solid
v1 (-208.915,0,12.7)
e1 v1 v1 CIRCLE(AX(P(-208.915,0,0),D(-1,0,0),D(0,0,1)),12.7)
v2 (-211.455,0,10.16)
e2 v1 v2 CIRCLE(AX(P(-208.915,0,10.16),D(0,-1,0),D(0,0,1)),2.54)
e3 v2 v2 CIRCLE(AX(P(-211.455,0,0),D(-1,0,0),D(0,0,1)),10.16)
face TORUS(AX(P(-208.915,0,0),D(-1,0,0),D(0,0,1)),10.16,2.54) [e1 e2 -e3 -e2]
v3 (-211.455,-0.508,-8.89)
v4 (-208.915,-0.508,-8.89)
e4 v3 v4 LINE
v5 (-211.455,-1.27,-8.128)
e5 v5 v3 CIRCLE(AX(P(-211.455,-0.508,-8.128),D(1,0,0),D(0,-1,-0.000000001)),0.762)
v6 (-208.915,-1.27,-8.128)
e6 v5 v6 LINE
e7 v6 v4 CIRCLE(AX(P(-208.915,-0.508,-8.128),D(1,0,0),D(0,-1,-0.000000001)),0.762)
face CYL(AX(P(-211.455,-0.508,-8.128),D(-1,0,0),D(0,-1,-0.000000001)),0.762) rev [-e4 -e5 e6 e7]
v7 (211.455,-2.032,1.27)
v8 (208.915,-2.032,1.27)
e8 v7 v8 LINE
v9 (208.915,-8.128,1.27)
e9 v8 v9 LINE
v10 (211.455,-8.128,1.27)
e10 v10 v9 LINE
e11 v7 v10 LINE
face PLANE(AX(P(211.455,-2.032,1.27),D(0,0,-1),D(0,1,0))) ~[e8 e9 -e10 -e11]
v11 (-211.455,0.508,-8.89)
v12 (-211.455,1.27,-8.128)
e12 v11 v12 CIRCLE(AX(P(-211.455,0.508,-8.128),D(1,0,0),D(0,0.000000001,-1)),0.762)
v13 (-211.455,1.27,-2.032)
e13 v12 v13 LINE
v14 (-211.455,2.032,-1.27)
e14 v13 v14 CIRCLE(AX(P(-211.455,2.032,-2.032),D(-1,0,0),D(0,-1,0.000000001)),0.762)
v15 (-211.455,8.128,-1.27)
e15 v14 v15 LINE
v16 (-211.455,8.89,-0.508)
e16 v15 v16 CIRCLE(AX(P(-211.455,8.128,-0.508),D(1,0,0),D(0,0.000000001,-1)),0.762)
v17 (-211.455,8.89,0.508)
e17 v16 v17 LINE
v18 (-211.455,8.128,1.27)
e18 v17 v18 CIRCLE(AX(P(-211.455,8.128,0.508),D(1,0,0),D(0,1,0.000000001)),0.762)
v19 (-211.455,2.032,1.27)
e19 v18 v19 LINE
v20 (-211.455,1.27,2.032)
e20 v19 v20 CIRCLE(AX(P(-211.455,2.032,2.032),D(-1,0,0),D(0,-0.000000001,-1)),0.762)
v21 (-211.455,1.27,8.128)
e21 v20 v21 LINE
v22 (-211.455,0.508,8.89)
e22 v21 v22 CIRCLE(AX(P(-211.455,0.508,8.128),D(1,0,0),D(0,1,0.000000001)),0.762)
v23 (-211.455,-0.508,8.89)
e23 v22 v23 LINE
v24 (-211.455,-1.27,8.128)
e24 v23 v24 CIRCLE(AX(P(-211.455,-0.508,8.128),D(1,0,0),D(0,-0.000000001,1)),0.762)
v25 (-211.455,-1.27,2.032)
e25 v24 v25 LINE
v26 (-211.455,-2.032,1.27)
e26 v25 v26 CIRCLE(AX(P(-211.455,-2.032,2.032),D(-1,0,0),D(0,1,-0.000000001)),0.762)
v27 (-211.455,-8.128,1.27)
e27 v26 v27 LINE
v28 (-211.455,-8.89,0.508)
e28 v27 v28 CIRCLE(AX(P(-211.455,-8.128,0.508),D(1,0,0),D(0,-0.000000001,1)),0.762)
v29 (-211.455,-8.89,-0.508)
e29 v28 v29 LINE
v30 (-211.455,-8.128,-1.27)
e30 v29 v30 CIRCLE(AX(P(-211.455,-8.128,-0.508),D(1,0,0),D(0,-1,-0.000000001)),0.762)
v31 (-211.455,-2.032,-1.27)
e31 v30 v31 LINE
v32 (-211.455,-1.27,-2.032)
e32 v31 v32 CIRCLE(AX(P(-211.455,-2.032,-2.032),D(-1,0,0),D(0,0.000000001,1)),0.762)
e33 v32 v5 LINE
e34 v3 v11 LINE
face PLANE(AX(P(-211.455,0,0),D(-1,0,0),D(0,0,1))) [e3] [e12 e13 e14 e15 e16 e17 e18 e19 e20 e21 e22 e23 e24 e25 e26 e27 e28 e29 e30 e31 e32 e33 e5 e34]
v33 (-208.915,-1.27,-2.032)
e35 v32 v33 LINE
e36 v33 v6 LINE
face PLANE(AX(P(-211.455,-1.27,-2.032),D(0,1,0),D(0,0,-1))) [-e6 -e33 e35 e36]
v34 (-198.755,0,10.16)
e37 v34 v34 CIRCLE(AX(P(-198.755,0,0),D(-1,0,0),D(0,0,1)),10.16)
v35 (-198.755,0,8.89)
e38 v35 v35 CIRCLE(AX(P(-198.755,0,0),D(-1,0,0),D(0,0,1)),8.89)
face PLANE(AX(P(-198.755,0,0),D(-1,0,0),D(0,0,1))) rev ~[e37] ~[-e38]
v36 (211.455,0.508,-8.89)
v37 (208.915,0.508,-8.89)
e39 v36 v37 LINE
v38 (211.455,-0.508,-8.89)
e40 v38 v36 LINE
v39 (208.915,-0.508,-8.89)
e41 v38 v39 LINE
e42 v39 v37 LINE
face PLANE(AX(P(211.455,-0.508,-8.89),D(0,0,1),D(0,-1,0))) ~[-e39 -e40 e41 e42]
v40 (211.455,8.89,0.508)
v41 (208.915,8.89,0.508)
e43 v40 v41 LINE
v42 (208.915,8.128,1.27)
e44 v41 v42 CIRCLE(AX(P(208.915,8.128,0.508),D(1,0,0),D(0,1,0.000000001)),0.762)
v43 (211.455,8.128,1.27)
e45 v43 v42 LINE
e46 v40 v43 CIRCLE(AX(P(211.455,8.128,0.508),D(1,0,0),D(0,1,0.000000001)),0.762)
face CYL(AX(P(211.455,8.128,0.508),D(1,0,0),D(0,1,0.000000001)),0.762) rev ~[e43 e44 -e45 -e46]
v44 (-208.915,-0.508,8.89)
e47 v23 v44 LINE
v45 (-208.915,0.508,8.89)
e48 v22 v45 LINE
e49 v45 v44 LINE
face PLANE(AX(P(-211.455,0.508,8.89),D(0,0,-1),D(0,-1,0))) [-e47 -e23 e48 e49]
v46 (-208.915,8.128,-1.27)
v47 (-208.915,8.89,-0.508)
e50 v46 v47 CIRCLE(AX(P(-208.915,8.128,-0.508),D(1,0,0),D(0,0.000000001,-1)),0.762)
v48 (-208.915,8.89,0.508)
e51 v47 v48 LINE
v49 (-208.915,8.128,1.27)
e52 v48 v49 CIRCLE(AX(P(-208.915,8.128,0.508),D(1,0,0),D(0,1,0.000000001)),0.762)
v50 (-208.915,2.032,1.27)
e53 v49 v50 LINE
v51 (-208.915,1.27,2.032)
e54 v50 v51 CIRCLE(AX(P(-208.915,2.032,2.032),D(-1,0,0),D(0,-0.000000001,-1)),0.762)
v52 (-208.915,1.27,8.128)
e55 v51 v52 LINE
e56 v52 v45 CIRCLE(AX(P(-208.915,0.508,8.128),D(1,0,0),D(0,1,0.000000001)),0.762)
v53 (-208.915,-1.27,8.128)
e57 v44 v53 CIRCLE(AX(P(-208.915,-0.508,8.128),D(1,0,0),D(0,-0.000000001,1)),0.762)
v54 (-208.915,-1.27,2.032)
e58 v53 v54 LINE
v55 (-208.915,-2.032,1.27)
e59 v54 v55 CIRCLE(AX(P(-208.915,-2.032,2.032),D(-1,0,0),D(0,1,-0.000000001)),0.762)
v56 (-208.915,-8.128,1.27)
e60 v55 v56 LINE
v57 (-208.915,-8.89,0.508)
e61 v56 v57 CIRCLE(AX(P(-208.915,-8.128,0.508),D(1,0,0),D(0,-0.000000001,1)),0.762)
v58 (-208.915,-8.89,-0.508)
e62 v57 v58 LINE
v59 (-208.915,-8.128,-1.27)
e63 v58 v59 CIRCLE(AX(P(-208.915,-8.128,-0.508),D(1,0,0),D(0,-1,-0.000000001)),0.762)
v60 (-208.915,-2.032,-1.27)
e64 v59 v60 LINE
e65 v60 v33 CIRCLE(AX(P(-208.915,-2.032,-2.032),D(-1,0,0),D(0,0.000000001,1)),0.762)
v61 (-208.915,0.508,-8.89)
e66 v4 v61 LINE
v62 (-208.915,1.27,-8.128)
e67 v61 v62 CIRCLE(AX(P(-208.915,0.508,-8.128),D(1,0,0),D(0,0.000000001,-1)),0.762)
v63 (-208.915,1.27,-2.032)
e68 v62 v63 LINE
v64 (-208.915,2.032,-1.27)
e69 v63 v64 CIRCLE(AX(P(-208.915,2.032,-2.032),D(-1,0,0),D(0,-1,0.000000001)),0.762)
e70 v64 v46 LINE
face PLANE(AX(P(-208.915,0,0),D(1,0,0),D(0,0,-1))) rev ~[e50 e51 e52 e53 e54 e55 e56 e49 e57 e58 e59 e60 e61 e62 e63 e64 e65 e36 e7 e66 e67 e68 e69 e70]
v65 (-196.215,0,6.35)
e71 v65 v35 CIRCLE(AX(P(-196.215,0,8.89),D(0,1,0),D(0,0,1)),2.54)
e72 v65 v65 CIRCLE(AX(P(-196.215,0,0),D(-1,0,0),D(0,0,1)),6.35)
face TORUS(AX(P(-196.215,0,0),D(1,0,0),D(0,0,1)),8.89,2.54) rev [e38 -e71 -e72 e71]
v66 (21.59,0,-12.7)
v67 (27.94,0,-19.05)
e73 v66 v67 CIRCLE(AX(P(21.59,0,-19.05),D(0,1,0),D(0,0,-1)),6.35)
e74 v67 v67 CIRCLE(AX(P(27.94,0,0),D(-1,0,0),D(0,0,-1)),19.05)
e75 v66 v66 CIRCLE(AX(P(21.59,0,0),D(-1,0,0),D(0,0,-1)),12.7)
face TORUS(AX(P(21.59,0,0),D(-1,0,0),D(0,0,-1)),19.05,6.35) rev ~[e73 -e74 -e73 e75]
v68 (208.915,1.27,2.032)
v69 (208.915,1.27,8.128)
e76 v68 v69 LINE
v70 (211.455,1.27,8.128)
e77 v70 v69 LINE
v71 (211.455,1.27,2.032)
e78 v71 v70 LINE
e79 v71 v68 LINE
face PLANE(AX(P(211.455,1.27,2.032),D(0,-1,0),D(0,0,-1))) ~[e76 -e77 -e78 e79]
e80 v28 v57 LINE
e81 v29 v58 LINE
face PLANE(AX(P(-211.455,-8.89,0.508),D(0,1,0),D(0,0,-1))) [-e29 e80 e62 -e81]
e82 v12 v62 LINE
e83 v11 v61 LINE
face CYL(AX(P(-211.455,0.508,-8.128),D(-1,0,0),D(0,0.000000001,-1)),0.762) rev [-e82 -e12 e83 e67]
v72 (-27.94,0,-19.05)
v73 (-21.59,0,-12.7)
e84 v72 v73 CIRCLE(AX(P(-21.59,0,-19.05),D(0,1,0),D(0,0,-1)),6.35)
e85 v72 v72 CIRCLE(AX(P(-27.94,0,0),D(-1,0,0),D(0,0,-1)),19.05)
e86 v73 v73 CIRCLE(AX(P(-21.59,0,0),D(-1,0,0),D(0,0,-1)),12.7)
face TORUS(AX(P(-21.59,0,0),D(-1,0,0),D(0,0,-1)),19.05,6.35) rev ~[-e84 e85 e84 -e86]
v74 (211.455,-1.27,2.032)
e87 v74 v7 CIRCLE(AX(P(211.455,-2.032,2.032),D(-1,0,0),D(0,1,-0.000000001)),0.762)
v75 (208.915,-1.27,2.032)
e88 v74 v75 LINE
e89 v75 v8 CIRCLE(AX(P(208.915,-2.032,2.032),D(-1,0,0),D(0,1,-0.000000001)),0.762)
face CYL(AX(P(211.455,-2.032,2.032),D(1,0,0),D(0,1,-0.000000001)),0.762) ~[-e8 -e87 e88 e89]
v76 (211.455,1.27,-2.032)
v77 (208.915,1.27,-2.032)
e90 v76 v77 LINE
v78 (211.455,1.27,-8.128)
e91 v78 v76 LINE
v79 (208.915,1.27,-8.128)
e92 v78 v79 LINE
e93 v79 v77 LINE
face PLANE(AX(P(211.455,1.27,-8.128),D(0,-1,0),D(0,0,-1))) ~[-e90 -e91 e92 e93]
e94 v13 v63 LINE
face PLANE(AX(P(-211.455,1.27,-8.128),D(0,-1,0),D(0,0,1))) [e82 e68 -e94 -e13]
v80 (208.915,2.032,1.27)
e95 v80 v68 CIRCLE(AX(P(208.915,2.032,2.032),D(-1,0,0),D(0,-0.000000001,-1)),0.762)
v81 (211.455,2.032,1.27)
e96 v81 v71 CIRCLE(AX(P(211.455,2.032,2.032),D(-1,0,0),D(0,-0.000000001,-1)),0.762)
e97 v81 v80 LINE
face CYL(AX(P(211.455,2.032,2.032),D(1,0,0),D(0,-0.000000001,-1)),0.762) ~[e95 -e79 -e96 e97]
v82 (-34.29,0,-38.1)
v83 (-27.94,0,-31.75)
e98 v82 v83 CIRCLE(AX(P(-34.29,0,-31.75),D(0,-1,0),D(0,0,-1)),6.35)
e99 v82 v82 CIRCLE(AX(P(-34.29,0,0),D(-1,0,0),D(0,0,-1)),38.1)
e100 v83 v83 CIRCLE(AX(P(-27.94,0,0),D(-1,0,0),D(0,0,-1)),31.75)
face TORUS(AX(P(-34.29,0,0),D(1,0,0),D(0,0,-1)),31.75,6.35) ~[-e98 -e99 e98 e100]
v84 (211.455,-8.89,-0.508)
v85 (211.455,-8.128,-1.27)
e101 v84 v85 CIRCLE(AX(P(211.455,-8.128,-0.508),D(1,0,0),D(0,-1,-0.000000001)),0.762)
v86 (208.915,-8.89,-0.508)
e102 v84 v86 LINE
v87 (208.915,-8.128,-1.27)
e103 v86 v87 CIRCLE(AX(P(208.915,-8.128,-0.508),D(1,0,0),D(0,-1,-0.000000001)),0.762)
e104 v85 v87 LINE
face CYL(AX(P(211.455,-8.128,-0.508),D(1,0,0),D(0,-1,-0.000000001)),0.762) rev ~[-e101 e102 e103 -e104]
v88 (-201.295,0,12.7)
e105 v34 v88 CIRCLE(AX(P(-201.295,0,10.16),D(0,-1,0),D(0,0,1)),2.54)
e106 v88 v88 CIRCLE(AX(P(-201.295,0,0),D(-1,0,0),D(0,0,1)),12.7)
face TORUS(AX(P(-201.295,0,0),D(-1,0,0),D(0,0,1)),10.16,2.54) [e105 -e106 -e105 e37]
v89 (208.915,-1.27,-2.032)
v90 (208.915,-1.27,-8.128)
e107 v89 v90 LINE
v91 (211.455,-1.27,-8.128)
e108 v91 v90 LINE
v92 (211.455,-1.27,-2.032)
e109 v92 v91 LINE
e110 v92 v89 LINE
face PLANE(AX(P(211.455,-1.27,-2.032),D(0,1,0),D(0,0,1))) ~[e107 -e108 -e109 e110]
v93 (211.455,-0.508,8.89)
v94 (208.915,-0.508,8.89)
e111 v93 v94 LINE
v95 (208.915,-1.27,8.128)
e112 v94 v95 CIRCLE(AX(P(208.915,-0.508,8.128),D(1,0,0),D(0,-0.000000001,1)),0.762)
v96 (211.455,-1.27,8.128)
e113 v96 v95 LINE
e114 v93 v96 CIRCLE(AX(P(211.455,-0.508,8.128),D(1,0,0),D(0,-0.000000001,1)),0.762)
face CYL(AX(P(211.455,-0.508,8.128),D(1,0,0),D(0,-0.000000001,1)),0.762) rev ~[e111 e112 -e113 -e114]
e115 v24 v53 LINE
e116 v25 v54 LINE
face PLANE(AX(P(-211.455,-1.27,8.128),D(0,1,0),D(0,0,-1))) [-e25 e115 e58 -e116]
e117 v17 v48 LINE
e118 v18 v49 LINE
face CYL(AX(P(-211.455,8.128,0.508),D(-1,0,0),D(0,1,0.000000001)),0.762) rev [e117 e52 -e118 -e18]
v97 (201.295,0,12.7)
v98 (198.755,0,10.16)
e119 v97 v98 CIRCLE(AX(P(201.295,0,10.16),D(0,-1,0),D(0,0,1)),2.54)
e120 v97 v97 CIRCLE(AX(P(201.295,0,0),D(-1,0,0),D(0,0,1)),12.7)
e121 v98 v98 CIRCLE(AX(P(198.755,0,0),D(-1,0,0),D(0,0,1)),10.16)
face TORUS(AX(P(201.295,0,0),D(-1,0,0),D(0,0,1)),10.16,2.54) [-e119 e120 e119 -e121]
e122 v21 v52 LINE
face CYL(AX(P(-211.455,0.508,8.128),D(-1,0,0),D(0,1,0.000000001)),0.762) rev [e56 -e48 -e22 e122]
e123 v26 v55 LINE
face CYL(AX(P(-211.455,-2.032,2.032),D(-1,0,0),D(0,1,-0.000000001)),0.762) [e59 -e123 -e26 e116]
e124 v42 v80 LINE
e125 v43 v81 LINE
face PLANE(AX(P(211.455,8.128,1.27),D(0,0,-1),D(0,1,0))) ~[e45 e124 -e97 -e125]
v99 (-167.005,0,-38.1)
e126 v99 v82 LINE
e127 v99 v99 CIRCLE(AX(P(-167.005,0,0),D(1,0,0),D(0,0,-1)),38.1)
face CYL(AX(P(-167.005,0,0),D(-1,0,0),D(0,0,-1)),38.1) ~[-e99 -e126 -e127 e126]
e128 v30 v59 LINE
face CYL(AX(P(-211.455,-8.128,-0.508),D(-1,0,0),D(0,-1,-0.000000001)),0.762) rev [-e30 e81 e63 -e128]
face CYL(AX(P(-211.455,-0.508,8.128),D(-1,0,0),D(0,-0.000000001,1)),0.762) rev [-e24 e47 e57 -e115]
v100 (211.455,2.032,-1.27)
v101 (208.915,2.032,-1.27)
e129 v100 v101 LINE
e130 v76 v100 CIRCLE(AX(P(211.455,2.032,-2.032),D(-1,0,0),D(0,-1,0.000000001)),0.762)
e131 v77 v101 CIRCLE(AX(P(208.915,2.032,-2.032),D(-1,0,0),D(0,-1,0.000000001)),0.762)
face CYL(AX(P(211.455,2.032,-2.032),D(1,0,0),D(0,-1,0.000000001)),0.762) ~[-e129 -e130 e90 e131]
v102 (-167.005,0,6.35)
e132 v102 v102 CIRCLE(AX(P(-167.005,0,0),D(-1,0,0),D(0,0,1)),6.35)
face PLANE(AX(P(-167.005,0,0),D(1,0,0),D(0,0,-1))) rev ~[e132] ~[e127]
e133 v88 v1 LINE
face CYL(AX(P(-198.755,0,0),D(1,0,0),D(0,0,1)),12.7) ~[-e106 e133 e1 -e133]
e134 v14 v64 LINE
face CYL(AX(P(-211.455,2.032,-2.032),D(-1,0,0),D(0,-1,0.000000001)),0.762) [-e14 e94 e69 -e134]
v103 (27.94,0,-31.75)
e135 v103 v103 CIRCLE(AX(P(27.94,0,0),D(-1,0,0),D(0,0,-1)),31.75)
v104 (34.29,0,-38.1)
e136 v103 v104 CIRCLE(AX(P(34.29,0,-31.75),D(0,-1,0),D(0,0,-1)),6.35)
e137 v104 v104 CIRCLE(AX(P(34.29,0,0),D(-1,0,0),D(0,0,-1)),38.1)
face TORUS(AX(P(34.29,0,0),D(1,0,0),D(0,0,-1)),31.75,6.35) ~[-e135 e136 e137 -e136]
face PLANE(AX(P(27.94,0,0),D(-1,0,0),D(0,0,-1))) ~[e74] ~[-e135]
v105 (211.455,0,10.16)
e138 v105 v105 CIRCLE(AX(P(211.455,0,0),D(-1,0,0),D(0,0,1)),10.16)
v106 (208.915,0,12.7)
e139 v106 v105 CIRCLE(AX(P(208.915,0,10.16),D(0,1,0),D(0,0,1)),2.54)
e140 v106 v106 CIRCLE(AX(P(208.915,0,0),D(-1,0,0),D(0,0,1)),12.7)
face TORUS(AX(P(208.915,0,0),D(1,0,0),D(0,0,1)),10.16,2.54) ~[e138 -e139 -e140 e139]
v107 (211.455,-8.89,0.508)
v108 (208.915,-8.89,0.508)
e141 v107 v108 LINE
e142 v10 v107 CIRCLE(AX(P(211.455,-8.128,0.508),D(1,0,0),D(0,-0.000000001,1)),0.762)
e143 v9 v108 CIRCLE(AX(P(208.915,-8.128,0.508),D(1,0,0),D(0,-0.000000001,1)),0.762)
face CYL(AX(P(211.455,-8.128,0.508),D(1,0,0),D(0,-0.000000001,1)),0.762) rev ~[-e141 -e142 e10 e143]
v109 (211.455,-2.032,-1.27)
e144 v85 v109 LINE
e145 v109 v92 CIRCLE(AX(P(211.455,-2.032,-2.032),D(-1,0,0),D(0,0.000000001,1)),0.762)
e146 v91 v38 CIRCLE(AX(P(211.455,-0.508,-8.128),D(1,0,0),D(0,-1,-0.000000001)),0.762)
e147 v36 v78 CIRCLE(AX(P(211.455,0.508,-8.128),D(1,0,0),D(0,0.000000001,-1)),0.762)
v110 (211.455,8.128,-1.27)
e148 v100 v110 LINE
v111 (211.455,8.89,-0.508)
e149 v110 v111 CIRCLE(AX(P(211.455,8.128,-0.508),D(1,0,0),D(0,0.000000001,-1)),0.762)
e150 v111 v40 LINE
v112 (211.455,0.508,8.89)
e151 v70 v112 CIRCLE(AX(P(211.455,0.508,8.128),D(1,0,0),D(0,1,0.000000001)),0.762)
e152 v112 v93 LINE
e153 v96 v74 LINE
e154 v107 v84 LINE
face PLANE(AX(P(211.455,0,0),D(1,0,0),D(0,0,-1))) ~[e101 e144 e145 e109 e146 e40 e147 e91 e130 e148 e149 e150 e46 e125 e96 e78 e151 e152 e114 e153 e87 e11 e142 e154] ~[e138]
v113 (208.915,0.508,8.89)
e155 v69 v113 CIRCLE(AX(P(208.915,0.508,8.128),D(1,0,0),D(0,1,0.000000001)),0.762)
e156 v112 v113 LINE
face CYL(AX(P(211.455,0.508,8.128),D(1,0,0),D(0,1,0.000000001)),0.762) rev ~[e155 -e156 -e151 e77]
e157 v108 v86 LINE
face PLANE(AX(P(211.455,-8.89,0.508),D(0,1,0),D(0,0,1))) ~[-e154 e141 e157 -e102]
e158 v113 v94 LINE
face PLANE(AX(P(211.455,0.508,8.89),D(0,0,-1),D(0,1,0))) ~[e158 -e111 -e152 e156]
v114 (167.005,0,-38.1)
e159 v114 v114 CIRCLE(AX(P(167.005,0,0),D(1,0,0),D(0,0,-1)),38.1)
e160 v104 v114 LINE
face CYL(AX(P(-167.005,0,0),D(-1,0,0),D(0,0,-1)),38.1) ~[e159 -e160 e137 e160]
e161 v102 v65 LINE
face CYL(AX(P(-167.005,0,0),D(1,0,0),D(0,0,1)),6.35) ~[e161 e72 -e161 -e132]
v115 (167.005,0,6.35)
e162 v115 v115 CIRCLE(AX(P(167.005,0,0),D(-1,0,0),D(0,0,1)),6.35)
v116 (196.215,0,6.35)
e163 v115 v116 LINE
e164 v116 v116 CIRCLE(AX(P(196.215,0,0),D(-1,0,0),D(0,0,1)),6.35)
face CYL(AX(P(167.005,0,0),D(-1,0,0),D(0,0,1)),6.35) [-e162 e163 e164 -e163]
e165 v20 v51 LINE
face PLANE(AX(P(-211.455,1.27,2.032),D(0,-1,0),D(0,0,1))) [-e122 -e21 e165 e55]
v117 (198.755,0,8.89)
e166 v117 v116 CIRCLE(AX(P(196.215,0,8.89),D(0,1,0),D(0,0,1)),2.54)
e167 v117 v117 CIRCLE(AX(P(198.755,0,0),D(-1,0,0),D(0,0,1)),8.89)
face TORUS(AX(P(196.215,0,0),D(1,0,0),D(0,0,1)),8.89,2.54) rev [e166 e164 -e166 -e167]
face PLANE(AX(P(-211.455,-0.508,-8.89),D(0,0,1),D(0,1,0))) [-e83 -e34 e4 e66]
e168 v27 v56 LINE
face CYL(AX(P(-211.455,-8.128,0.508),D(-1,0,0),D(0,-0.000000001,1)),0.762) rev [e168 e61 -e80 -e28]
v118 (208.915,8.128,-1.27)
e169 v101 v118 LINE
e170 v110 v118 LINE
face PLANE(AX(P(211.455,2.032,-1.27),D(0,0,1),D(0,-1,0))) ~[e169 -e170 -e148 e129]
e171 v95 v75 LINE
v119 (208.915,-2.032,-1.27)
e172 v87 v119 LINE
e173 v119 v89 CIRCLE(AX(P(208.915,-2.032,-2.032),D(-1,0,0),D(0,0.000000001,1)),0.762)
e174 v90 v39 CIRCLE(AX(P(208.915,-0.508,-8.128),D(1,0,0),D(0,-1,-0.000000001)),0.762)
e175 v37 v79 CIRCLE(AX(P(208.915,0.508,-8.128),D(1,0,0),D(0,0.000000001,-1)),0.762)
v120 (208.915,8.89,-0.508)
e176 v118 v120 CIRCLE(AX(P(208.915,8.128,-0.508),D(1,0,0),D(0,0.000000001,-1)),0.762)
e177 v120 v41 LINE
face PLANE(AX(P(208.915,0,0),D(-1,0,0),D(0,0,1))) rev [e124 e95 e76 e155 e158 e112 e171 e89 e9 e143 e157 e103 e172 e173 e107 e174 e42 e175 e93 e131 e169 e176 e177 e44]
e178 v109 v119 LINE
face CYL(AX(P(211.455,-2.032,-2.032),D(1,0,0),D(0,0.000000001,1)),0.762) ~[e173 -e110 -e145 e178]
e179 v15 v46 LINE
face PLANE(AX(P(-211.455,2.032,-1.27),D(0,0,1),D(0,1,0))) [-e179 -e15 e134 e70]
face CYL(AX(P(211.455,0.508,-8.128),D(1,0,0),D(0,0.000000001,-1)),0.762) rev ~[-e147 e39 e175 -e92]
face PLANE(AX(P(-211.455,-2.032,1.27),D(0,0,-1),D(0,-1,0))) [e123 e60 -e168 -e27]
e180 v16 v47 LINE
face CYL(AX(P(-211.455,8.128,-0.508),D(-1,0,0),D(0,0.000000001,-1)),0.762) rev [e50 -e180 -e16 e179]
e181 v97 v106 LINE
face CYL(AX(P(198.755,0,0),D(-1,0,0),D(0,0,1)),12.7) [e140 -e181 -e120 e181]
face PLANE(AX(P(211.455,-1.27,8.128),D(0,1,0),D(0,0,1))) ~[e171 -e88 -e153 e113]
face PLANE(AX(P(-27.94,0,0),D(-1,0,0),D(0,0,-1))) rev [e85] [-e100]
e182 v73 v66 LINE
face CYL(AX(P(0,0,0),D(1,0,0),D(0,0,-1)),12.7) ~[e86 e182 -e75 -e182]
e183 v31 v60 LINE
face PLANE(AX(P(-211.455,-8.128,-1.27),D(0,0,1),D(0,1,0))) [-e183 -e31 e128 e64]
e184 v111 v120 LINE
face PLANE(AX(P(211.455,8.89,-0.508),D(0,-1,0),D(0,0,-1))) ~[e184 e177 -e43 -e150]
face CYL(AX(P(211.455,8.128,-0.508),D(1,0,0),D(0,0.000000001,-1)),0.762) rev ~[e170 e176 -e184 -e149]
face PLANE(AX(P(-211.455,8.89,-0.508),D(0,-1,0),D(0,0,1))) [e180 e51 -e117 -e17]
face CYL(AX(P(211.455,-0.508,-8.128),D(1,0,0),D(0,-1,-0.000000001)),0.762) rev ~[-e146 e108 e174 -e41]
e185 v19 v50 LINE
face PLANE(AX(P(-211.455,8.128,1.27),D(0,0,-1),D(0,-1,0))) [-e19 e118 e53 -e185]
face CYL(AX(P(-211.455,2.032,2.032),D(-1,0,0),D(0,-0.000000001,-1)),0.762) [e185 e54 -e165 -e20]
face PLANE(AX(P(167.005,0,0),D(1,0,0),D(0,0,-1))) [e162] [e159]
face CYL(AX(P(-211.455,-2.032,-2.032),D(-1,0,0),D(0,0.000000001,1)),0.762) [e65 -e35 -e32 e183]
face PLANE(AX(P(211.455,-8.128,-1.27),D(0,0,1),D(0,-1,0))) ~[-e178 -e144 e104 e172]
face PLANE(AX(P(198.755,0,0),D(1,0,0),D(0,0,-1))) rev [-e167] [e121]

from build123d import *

# Parameters (mm, degrees)
BOSS_EXTRUDE1_DEPTH      = 167.005
BOSS_EXTRUDE1_DEPTH_BACK = 167.005
SKETCH1_R                = 38.1
SKETCH2_R                = 6.35
BOSS_EXTRUDE2_DEPTH      = 31.75
SKETCH3_R                = 12.7
BOSS_EXTRUDE3_DEPTH      = 12.7
SKETCH4_W                = 55.88
SKETCH4_H                = 50.8
FILLET1_R                = 6.35
FILLET2_R                = 6.35
FILLET3_R                = 6.35
FILLET4_R                = 6.35
FILLET6_R                = 2.54
CUT_EXTRUDE1_DEPTH       = 2.54
FILLET6_OF_MIRROR1_R     = 2.54


with BuildPart() as part:
    # Sketch1 → Boss-Extrude1 (new, two sides: drawn at the far end of the back side and taken through both)
    with BuildSketch(Plane(origin=(0, 0, 0), x_dir=(0, 0, -1), z_dir=(1, 0, 0)).offset(-BOSS_EXTRUDE1_DEPTH_BACK)):
        Circle(SKETCH1_R)
    extrude(amount=BOSS_EXTRUDE1_DEPTH + BOSS_EXTRUDE1_DEPTH_BACK)

    # Sketch2 → Boss-Extrude2 (add)
    with BuildSketch(Plane.ZY.offset(167.005)):
        Circle(SKETCH2_R)
    boss_extrude2 = extrude(amount=BOSS_EXTRUDE2_DEPTH)

    # Sketch3 → Boss-Extrude3 (add)
    with BuildSketch(Plane.ZY.offset(198.755)):
        Circle(SKETCH3_R)
    boss_extrude3 = extrude(amount=BOSS_EXTRUDE3_DEPTH)

    # Sketch4 → Cut-Revolve1 (revolve, cut)
    with BuildSketch(Plane(origin=(0, 0, 0), x_dir=(1, 0, 0), z_dir=(0, 1, 0))):
        with Locations((0, 38.1)):
            Rectangle(SKETCH4_W, SKETCH4_H)
    revolve(axis=Axis((211.564607527, 0, 0), (-1, 0, 0)), mode=Mode.SUBTRACT)

    # Fillet1
    fillet1_edges = [part.edges().sort_by_distance(p)[0] for p in [
        (-27.94, 0, 38.1),
    ]]
    fillet(fillet1_edges, radius=FILLET1_R)

    # Fillet2
    fillet2_edges = [part.edges().sort_by_distance(p)[0] for p in [
        (-27.94, 0, 12.7),
    ]]
    fillet(fillet2_edges, radius=FILLET2_R)

    # Fillet3
    fillet3_edges = [part.edges().sort_by_distance(p)[0] for p in [
        (27.94, 0, 12.7),
    ]]
    fillet(fillet3_edges, radius=FILLET3_R)

    # Fillet4
    fillet4_edges = [part.edges().sort_by_distance(p)[0] for p in [
        (27.94, 0, 38.1),
    ]]
    fillet(fillet4_edges, radius=FILLET4_R)

    # Fillet6
    fillet6_edges = [part.edges().sort_by_distance(p)[0] for p in [
        (-198.755, 0, -12.7),
        (-211.455, 0, -12.7),
        (-198.755, 0, -6.35),
    ]]
    fillet(fillet6_edges, radius=FILLET6_R)

    # Sketch5 → Cut-Extrude1 (cut)
    with BuildSketch(Plane.ZY.offset(211.455)):
        with BuildLine():
            Line((1.27, -2.032), (1.27, -8.128))
            ThreePointArc((1.27, -8.128), (1.046815367, -8.666815367), (0.508, -8.89))
            Line((0.508, -8.89), (-0.508, -8.89))
            ThreePointArc((-0.508, -8.89), (-1.046815367, -8.666815367), (-1.27, -8.128))
            Line((-1.27, -8.128), (-1.27, -2.032))
            ThreePointArc((-1.27, -2.032), (-1.493184633, -1.493184633), (-2.032, -1.27))
            Line((-2.032, -1.27), (-8.128, -1.27))
            ThreePointArc((-8.128, -1.27), (-8.666815367, -1.046815367), (-8.89, -0.508))
            Line((-8.89, -0.508), (-8.89, 0.508))
            ThreePointArc((-8.89, 0.508), (-8.666815367, 1.046815367), (-8.128, 1.27))
            Line((-8.128, 1.27), (-2.032, 1.27))
            ThreePointArc((-2.032, 1.27), (-1.493184633, 1.493184633), (-1.27, 2.032))
            Line((-1.27, 2.032), (-1.27, 8.128))
            ThreePointArc((-1.27, 8.128), (-1.046815367, 8.666815367), (-0.508, 8.89))
            Line((-0.508, 8.89), (0.508, 8.89))
            ThreePointArc((0.508, 8.89), (1.046815367, 8.666815367), (1.27, 8.128))
            Line((1.27, 8.128), (1.27, 2.032))
            ThreePointArc((1.27, 2.032), (1.493184633, 1.493184633), (2.032, 1.27))
            Line((2.032, 1.27), (8.128, 1.27))
            ThreePointArc((8.128, 1.27), (8.666815367, 1.046815367), (8.89, 0.508))
            Line((8.89, 0.508), (8.89, -0.508))
            ThreePointArc((8.89, -0.508), (8.666815367, -1.046815367), (8.128, -1.27))
            Line((8.128, -1.27), (2.032, -1.27))
            ThreePointArc((2.032, -1.27), (1.493184633, -1.493184633), (1.27, -2.032))
        make_face()
    cut_extrude1 = extrude(amount=-CUT_EXTRUDE1_DEPTH, mode=Mode.SUBTRACT)

    # Mirror1: Boss-Extrude2, Boss-Extrude3, Cut-Extrude1 across plane
    add(boss_extrude2.mirror(Plane(origin=(0, 0, 0), x_dir=(0, 0, 1), z_dir=(1, 0, 0))))
    add(boss_extrude3.mirror(Plane(origin=(0, 0, 0), x_dir=(0, 0, 1), z_dir=(1, 0, 0))))
    add(cut_extrude1.mirror(Plane(origin=(0, 0, 0), x_dir=(0, 0, 1), z_dir=(1, 0, 0))), mode=Mode.SUBTRACT)

    # Fillet6 of Mirror1
    fillet6_of_mirror1_edges = [part.edges().sort_by_distance(p)[0] for p in [
        (198.755, 0, -12.7),
        (211.455, 0, -12.7),
        (198.755, 0, -6.35),
    ]]
    fillet(fillet6_of_mirror1_edges, radius=FILLET6_OF_MIRROR1_R)


solid = part.part
